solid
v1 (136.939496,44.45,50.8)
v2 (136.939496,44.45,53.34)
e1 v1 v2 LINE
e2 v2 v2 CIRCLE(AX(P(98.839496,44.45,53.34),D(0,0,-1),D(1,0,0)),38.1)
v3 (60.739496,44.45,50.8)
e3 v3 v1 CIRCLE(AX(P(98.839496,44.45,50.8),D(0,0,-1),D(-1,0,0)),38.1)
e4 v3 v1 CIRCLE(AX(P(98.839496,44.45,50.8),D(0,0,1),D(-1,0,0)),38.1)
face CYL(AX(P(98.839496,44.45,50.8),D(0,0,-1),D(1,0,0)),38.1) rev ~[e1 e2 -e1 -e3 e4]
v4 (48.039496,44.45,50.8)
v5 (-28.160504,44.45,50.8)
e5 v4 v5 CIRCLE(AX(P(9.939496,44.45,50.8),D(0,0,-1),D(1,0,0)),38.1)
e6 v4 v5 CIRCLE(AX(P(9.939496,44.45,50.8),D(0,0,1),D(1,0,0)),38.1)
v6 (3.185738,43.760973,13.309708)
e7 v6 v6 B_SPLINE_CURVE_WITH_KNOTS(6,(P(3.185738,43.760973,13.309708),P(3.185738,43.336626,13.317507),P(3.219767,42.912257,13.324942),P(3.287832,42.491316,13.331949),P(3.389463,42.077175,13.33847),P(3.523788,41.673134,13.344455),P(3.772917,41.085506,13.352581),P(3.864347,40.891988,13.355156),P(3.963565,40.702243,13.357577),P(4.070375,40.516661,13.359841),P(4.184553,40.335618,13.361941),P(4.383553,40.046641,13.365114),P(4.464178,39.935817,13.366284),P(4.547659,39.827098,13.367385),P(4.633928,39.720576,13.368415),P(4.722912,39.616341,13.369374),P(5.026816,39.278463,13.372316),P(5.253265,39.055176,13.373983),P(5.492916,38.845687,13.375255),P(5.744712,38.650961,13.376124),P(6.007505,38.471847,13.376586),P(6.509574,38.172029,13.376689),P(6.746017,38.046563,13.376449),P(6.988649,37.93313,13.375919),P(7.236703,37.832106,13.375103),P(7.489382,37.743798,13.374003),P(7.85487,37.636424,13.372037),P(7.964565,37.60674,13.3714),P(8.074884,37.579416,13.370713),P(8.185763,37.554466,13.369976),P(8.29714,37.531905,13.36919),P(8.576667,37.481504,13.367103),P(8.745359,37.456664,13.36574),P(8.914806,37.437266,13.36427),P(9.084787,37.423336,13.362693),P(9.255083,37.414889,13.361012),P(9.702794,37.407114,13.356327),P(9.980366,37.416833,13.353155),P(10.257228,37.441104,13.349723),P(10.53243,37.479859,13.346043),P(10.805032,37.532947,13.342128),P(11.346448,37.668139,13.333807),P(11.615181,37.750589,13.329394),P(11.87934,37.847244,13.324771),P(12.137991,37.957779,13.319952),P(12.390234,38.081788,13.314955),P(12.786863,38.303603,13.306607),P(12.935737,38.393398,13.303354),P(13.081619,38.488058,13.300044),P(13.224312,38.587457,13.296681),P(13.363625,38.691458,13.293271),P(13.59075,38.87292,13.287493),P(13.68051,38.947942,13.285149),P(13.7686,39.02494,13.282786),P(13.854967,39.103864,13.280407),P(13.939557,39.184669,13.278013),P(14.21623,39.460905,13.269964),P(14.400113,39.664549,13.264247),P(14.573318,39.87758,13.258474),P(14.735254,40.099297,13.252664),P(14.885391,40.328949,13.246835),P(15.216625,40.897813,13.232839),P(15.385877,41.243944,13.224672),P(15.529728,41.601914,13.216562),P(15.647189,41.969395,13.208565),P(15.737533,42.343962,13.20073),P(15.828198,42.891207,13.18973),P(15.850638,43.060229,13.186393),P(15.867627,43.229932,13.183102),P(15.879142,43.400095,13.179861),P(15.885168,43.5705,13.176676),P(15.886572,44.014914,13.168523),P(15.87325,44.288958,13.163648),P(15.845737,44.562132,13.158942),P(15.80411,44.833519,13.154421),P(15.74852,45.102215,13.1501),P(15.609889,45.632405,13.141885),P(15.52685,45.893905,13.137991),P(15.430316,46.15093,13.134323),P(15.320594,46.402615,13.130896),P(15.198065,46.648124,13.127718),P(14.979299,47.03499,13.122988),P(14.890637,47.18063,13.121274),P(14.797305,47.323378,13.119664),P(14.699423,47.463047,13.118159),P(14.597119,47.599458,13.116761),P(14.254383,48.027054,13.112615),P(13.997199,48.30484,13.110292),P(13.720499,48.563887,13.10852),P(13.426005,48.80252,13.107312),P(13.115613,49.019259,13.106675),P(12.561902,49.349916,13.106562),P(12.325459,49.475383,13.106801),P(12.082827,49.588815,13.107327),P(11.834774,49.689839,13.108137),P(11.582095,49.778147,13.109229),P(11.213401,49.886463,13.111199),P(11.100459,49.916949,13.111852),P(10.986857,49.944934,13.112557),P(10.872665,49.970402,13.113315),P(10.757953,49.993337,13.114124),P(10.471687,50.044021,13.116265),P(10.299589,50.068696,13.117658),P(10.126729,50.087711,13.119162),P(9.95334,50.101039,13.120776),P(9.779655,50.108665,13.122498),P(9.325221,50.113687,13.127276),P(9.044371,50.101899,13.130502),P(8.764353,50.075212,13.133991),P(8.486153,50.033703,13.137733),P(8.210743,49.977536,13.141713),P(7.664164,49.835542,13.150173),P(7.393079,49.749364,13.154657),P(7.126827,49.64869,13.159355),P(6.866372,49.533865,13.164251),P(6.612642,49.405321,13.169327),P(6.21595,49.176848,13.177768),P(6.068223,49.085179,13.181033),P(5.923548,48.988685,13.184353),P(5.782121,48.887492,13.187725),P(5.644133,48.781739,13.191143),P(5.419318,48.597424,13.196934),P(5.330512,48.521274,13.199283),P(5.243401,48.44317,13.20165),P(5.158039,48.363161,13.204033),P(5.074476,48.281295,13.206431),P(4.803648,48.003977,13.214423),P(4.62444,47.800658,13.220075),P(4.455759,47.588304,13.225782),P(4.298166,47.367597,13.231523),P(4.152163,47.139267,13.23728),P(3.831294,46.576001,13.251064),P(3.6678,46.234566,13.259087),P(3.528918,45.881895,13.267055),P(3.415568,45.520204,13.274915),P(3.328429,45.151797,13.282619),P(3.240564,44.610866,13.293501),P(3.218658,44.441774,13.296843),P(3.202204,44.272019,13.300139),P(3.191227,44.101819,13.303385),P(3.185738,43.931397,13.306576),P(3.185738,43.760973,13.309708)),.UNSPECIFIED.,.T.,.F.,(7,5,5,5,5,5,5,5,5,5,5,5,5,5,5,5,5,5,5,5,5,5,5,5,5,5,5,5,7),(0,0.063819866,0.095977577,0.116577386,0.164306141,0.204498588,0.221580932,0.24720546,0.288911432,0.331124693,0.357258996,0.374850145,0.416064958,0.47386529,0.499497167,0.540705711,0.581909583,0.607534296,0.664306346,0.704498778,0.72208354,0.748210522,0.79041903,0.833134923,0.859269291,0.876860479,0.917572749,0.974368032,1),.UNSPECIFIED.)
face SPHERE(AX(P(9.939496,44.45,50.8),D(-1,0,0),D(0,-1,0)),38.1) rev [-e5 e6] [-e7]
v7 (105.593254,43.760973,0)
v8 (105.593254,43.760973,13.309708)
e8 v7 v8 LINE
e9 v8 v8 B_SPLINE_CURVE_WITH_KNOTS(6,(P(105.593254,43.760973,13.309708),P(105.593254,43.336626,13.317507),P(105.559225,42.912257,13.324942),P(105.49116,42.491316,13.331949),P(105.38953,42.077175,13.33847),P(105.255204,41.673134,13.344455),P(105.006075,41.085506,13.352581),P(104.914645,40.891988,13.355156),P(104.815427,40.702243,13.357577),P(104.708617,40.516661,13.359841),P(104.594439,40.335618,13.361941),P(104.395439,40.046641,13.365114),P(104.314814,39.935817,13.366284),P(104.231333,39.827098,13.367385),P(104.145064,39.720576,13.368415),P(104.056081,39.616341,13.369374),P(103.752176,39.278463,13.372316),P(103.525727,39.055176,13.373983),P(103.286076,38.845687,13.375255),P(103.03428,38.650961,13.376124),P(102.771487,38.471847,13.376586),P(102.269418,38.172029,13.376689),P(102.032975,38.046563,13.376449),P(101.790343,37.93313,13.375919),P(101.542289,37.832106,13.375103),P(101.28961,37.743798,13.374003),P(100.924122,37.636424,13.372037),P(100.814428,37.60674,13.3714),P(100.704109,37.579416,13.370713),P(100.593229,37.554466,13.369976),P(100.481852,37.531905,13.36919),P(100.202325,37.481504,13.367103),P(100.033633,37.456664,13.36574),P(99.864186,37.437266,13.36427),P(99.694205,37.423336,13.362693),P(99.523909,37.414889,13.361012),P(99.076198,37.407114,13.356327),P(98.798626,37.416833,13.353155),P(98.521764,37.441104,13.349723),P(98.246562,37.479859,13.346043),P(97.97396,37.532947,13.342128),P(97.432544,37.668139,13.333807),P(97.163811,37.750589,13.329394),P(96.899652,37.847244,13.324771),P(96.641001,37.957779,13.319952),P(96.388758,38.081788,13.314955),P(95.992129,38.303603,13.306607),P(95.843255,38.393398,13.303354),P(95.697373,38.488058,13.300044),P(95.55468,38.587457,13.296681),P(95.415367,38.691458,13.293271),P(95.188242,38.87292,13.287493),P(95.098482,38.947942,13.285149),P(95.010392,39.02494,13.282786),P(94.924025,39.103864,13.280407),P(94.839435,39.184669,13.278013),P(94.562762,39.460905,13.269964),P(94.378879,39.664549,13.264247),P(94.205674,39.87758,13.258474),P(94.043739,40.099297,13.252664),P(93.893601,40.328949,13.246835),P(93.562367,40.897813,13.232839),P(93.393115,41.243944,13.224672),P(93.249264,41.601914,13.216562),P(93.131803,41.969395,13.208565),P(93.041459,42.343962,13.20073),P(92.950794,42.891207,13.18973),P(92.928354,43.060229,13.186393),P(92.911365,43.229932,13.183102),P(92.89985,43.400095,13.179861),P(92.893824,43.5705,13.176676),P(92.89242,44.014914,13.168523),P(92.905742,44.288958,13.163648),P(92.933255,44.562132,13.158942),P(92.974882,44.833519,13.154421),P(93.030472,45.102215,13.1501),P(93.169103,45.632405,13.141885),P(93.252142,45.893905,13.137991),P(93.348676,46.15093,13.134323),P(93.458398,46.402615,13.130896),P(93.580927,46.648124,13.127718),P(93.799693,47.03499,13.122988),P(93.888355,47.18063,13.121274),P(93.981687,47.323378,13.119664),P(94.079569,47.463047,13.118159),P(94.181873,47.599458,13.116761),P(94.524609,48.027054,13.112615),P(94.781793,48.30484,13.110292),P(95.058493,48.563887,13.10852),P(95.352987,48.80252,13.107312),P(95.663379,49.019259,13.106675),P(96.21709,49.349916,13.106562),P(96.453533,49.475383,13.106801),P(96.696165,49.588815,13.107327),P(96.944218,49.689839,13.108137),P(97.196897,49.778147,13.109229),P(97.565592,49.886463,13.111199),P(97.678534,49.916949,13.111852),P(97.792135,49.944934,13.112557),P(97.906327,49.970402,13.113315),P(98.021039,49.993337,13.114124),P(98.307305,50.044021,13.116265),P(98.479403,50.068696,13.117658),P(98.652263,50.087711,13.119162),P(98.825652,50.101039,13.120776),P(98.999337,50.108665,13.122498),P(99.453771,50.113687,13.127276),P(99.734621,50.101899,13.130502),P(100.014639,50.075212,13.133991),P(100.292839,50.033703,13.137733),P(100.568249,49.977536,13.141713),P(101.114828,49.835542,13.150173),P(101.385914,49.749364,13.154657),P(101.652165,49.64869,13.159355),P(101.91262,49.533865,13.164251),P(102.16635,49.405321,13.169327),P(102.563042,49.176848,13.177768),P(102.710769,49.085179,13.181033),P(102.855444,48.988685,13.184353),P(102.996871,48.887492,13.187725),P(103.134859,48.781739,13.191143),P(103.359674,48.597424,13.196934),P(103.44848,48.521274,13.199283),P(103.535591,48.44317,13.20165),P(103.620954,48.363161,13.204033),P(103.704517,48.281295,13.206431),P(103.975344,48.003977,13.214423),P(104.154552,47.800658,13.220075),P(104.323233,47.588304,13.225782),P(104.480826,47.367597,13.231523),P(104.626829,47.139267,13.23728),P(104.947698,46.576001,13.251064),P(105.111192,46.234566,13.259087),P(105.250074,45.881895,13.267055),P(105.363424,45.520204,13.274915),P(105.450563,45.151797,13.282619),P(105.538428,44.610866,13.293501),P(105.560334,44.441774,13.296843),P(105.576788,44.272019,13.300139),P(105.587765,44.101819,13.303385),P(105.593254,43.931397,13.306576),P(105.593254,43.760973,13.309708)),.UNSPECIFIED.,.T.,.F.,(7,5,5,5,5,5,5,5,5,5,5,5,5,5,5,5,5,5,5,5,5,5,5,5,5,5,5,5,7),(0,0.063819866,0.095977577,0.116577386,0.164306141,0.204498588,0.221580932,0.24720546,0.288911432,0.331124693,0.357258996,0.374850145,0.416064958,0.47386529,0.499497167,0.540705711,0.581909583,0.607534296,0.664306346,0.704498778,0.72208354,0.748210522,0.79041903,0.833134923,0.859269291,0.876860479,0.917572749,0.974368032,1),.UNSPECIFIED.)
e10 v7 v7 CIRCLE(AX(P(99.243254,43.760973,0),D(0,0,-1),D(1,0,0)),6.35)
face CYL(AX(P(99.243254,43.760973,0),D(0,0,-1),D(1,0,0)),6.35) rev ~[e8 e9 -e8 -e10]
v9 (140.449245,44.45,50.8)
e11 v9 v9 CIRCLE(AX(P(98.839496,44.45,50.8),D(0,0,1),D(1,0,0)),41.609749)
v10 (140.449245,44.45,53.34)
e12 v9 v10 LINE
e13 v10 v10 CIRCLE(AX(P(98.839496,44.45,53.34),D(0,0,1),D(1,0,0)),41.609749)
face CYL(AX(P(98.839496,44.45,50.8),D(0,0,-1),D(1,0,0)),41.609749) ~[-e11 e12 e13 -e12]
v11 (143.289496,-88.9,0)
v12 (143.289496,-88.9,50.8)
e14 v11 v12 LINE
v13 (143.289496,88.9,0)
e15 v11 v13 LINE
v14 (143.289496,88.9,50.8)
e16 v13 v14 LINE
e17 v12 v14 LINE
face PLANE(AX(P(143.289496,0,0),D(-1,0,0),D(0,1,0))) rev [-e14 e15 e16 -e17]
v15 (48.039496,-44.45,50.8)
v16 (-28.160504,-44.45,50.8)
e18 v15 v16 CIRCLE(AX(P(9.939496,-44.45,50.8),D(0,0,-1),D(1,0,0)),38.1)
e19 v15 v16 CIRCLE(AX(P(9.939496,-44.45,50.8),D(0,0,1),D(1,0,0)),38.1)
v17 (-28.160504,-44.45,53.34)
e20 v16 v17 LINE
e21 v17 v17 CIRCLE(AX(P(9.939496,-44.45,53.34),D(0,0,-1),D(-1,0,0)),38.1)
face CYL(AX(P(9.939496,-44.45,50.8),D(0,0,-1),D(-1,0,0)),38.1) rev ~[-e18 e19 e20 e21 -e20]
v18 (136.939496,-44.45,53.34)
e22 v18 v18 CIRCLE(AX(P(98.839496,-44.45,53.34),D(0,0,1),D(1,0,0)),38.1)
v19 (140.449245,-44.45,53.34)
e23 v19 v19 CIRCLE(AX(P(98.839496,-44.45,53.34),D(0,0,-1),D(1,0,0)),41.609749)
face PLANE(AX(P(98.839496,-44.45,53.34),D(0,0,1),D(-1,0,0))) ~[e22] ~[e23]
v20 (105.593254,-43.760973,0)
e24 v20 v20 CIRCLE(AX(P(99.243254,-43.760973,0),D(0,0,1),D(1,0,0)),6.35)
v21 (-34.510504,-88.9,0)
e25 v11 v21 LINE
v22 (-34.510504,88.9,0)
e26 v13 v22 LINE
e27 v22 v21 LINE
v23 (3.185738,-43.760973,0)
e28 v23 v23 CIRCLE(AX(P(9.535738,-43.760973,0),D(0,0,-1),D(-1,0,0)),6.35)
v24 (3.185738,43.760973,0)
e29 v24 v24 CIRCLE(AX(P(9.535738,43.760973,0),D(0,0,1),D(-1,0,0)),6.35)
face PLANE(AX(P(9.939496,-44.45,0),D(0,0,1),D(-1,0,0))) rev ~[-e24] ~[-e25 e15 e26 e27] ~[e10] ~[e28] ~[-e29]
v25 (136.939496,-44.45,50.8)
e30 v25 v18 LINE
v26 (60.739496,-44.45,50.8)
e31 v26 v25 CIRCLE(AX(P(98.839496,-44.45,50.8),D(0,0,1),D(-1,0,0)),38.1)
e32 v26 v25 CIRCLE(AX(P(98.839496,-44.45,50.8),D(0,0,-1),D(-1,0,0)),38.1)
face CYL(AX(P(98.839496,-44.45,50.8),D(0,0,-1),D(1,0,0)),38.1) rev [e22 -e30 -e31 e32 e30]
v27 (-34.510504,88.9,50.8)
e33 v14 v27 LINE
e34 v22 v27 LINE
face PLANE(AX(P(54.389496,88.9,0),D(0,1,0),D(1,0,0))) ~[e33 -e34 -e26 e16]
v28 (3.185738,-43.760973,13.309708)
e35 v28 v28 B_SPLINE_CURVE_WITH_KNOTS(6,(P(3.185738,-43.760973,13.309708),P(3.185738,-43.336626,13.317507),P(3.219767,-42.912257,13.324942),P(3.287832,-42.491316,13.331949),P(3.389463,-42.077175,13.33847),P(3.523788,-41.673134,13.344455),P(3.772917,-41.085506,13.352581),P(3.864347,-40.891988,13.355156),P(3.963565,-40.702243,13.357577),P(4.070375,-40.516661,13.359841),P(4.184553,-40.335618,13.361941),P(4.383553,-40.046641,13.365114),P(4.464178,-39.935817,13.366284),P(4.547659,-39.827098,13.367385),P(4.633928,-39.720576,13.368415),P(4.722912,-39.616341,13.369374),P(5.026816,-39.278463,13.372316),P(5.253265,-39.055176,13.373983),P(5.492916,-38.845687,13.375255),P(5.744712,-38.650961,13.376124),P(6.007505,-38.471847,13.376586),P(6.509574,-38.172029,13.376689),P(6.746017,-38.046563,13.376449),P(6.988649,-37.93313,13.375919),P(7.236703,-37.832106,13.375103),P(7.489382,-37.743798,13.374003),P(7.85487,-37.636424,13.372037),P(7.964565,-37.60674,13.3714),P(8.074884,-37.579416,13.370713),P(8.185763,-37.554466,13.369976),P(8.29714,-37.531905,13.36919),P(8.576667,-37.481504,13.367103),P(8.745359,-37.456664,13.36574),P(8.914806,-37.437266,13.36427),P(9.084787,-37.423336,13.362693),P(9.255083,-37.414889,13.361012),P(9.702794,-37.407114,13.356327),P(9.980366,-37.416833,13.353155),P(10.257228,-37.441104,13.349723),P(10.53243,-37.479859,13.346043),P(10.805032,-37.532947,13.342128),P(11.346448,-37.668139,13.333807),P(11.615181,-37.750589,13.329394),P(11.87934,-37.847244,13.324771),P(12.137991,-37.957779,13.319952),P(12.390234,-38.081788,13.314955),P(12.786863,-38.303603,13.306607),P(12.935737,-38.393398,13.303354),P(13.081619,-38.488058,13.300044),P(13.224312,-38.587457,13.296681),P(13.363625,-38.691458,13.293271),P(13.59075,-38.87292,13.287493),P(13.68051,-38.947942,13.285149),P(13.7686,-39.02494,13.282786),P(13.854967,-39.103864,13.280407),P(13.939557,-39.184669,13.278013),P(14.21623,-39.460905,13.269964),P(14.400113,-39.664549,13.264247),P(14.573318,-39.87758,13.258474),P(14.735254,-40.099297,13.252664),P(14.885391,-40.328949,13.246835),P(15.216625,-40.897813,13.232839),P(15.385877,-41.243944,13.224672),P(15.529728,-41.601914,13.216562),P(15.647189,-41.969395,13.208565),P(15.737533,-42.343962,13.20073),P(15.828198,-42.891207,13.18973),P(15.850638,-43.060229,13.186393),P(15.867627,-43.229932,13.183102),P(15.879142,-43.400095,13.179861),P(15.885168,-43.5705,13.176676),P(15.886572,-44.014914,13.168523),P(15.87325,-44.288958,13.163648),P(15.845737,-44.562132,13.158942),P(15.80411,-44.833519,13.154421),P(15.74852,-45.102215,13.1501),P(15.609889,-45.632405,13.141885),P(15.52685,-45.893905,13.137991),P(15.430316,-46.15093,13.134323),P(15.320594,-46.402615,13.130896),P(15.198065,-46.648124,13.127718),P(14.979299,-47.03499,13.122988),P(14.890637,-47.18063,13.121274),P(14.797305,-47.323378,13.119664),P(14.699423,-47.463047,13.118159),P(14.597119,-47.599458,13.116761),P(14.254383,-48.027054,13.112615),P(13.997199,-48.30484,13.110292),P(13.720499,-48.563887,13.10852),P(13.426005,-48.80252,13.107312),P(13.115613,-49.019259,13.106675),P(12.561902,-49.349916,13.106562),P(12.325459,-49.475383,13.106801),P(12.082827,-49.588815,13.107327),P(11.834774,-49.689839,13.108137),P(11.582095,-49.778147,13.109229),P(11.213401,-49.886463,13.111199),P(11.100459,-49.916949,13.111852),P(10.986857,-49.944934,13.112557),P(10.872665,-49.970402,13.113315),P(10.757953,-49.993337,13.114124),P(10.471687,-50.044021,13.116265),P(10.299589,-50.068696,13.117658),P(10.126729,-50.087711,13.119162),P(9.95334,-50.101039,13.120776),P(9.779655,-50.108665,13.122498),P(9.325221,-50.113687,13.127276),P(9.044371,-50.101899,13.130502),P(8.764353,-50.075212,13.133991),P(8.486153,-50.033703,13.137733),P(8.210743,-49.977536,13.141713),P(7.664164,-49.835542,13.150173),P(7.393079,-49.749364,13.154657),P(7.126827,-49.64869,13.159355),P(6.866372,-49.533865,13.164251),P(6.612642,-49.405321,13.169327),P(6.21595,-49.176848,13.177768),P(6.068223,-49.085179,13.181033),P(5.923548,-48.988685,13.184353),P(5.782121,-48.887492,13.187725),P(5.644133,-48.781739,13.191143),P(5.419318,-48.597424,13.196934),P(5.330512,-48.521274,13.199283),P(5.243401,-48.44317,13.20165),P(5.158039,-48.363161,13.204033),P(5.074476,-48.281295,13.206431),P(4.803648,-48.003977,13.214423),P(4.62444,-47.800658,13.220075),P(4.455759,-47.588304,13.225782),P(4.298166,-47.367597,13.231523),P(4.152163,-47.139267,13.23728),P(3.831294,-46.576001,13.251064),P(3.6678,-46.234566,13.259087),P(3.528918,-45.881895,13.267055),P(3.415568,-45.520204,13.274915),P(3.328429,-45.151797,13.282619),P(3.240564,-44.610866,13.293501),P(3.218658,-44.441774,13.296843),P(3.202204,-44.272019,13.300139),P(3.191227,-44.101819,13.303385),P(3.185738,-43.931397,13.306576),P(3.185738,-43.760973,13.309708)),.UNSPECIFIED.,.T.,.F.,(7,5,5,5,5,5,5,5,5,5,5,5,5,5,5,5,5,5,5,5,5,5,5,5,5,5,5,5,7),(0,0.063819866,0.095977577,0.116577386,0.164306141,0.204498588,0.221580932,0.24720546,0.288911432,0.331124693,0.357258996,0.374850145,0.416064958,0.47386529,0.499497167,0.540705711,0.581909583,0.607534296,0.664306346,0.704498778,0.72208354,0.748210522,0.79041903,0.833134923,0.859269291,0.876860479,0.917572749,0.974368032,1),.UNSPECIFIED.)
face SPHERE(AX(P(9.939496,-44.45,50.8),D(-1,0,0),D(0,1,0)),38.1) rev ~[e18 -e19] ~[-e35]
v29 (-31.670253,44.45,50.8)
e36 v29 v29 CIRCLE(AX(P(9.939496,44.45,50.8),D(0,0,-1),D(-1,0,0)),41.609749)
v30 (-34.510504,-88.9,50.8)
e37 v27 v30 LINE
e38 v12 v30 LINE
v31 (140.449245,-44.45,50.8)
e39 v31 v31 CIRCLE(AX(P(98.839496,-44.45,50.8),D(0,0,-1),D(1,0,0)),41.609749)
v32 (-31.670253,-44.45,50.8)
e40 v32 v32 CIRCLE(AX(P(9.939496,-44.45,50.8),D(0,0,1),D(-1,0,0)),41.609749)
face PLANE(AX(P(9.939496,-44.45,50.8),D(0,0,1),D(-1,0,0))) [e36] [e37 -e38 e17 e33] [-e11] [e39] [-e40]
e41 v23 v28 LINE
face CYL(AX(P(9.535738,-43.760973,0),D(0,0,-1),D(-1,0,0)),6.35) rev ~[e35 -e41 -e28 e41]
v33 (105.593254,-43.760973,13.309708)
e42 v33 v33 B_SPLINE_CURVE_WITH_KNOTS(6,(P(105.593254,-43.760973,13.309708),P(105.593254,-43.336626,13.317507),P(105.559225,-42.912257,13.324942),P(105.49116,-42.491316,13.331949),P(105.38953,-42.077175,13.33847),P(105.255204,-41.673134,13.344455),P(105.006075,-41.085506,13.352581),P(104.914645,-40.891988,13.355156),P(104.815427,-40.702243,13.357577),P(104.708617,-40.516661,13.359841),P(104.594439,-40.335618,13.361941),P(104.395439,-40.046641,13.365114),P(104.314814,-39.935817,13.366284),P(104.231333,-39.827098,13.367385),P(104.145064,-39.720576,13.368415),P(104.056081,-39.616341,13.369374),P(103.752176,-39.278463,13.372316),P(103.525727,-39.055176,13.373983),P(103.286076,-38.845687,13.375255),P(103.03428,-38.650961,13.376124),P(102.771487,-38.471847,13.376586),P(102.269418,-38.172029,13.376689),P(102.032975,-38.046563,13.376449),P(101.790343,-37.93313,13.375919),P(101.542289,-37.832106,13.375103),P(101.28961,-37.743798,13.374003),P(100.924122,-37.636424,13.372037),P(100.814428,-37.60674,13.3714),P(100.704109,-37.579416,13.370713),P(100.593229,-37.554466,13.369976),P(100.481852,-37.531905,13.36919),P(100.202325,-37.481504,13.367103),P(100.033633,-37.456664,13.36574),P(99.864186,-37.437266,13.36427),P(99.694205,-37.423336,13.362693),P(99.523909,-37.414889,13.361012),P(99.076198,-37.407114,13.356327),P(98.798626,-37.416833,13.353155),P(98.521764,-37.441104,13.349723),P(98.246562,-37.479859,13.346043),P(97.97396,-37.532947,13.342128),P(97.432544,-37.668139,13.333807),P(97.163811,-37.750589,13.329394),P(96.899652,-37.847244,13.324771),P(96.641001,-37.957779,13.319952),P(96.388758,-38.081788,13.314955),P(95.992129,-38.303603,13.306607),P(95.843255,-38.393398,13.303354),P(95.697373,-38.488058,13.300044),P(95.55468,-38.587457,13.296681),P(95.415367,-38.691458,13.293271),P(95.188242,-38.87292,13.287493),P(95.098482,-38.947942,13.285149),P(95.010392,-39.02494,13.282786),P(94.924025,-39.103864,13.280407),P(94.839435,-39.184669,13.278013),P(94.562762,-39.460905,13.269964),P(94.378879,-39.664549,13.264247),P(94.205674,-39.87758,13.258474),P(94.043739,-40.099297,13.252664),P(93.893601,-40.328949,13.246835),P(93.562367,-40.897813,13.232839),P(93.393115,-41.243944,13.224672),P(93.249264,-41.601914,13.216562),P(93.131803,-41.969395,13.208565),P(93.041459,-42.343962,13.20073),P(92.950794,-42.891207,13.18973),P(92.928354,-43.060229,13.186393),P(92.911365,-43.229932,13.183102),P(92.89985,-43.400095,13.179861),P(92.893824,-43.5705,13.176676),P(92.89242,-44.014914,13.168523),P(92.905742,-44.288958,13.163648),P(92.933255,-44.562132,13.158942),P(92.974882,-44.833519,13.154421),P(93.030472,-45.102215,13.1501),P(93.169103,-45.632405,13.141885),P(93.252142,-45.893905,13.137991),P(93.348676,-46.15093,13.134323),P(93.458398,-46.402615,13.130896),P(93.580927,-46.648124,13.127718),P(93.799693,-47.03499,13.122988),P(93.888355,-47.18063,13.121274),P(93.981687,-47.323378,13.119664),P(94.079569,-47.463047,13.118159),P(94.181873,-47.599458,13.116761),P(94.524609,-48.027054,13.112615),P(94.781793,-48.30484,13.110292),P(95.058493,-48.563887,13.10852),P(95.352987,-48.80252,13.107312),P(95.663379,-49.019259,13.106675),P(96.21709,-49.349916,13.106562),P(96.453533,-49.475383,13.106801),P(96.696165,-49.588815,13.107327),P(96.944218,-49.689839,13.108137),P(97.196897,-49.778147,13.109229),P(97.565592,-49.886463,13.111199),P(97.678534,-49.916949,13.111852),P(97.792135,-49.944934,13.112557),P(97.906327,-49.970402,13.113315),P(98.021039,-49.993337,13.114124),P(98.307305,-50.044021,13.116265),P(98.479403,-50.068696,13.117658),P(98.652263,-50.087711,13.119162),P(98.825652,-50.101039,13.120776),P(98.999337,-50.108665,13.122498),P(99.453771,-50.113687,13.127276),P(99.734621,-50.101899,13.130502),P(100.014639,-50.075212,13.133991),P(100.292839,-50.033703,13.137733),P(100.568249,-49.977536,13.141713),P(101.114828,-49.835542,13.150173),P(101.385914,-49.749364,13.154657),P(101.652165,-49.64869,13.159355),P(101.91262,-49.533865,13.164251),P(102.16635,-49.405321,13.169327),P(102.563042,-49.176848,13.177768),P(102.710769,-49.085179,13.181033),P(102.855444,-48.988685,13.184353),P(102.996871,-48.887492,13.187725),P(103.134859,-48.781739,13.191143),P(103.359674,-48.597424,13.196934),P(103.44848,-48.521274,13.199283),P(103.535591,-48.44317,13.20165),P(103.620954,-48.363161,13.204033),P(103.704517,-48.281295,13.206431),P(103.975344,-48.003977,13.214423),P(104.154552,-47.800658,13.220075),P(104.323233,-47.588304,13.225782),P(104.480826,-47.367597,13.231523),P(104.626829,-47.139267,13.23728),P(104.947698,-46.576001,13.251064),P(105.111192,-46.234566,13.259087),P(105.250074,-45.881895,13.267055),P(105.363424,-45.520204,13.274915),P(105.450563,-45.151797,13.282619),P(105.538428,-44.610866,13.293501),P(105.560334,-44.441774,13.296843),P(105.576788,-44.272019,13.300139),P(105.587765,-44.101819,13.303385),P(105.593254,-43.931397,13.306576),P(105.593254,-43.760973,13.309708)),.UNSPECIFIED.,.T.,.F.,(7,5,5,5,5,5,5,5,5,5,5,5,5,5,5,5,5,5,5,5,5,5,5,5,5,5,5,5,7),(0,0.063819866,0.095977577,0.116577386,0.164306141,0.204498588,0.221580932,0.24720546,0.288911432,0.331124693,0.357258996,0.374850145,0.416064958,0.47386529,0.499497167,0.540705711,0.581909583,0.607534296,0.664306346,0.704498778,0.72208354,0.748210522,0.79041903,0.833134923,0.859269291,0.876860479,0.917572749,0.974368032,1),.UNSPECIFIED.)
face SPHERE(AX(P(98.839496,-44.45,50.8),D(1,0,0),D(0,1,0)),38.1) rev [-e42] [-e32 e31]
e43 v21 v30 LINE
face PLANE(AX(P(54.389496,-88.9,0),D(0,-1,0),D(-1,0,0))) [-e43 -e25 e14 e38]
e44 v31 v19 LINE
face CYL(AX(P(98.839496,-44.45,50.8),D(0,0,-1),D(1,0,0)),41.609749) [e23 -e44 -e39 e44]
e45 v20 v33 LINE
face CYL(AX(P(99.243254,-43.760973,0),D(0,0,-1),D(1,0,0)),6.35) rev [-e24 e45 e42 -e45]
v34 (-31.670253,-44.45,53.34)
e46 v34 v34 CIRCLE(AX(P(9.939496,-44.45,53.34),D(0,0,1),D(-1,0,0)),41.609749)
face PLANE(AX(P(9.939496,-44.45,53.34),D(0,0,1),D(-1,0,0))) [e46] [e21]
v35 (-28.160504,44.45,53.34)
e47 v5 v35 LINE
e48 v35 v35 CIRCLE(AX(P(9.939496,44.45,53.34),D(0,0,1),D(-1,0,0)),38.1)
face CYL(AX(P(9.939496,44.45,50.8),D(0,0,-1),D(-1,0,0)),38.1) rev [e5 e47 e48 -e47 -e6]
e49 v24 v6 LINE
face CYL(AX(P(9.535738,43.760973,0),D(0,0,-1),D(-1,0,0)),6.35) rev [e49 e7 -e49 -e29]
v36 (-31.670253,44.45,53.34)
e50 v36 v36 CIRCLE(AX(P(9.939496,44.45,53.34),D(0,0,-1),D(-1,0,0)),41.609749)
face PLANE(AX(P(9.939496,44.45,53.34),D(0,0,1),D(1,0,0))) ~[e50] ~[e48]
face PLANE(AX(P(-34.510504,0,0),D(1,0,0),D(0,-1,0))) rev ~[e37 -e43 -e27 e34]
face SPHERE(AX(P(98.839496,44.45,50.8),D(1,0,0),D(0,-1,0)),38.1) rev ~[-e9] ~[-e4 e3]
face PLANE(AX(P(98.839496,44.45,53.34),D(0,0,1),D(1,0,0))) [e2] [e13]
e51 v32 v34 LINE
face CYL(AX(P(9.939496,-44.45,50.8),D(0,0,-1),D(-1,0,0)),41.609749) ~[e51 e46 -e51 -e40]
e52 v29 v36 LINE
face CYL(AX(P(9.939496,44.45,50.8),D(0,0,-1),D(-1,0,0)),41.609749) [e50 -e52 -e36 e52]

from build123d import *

# Parameters (mm, degrees)
F0_W     = 88.9
F0_H     = 88.9
F1_DEPTH = 50.8
F3_ANGLE = 180
F4_R     = 41.6097493144
F5_DEPTH = 2.54
F6_R     = 6.35
F7_DEPTH = 25.4


with BuildPart() as f1:
    # F0 (on Top) → F1 (new body)
    with BuildSketch(Plane.XY):
        with Locations((98.8394960349, 44.45)):
            Rectangle(F0_W, F0_H)
    extrude(amount=F1_DEPTH)

    # F2 (on face) → F3 (revolve, cut)
    with BuildSketch(Plane.XY.offset(50.8)):
        with BuildLine():
            ThreePointArc((60.7394960349, 44.45), (98.8394960349, 6.35), (136.9394960349, 44.45))
            Line((136.9394960349, 44.45), (60.7394960349, 44.45))
        make_face()
    revolve(axis=Axis((98.8394960349, 44.45, 50.8), (1, 0, 0)), revolution_arc=F3_ANGLE, mode=Mode.SUBTRACT)

    # F4 (on face) → F5 (join)
    with BuildSketch(Plane.XY.offset(50.8)):
        with Locations((98.8394960349, 44.45)):
            Circle(F4_R)
        with BuildLine():
            ThreePointArc((60.7394960349, 44.45), (98.8394960349, 82.55), (136.9394960349, 44.45))
            ThreePointArc((136.9394960349, 44.45), (98.8394960349, 6.35), (60.7394960349, 44.45))
        make_face(mode=Mode.SUBTRACT)
    extrude(amount=F5_DEPTH)

    # F6 (on face) → F7 (cut)
    with BuildSketch(Plane(origin=(0, 0, 0), x_dir=(1, 0, 0), z_dir=(0, 0, -1))):
        with Locations((99.2432538861, -43.760972516)):
            Circle(F6_R)
    extrude(amount=-F7_DEPTH, mode=Mode.SUBTRACT)

    # F8: F1 across face


with BuildPart() as f1_1:
    add(f1.part)
    add(f1.part.mirror(Plane(origin=(54.3894960349, 44.45, 25.4), x_dir=(0, -1, 0), z_dir=(-1, 0, 0))))

    # F9: F1 across face


with BuildPart() as f1_2:
    add(f1_1.part)
    add(f1_1.part.mirror(Plane(origin=(54.3894960349, 0, 25.4), x_dir=(1, 0, 0), z_dir=(0, -1, 0))))


solid = f1_2.part
